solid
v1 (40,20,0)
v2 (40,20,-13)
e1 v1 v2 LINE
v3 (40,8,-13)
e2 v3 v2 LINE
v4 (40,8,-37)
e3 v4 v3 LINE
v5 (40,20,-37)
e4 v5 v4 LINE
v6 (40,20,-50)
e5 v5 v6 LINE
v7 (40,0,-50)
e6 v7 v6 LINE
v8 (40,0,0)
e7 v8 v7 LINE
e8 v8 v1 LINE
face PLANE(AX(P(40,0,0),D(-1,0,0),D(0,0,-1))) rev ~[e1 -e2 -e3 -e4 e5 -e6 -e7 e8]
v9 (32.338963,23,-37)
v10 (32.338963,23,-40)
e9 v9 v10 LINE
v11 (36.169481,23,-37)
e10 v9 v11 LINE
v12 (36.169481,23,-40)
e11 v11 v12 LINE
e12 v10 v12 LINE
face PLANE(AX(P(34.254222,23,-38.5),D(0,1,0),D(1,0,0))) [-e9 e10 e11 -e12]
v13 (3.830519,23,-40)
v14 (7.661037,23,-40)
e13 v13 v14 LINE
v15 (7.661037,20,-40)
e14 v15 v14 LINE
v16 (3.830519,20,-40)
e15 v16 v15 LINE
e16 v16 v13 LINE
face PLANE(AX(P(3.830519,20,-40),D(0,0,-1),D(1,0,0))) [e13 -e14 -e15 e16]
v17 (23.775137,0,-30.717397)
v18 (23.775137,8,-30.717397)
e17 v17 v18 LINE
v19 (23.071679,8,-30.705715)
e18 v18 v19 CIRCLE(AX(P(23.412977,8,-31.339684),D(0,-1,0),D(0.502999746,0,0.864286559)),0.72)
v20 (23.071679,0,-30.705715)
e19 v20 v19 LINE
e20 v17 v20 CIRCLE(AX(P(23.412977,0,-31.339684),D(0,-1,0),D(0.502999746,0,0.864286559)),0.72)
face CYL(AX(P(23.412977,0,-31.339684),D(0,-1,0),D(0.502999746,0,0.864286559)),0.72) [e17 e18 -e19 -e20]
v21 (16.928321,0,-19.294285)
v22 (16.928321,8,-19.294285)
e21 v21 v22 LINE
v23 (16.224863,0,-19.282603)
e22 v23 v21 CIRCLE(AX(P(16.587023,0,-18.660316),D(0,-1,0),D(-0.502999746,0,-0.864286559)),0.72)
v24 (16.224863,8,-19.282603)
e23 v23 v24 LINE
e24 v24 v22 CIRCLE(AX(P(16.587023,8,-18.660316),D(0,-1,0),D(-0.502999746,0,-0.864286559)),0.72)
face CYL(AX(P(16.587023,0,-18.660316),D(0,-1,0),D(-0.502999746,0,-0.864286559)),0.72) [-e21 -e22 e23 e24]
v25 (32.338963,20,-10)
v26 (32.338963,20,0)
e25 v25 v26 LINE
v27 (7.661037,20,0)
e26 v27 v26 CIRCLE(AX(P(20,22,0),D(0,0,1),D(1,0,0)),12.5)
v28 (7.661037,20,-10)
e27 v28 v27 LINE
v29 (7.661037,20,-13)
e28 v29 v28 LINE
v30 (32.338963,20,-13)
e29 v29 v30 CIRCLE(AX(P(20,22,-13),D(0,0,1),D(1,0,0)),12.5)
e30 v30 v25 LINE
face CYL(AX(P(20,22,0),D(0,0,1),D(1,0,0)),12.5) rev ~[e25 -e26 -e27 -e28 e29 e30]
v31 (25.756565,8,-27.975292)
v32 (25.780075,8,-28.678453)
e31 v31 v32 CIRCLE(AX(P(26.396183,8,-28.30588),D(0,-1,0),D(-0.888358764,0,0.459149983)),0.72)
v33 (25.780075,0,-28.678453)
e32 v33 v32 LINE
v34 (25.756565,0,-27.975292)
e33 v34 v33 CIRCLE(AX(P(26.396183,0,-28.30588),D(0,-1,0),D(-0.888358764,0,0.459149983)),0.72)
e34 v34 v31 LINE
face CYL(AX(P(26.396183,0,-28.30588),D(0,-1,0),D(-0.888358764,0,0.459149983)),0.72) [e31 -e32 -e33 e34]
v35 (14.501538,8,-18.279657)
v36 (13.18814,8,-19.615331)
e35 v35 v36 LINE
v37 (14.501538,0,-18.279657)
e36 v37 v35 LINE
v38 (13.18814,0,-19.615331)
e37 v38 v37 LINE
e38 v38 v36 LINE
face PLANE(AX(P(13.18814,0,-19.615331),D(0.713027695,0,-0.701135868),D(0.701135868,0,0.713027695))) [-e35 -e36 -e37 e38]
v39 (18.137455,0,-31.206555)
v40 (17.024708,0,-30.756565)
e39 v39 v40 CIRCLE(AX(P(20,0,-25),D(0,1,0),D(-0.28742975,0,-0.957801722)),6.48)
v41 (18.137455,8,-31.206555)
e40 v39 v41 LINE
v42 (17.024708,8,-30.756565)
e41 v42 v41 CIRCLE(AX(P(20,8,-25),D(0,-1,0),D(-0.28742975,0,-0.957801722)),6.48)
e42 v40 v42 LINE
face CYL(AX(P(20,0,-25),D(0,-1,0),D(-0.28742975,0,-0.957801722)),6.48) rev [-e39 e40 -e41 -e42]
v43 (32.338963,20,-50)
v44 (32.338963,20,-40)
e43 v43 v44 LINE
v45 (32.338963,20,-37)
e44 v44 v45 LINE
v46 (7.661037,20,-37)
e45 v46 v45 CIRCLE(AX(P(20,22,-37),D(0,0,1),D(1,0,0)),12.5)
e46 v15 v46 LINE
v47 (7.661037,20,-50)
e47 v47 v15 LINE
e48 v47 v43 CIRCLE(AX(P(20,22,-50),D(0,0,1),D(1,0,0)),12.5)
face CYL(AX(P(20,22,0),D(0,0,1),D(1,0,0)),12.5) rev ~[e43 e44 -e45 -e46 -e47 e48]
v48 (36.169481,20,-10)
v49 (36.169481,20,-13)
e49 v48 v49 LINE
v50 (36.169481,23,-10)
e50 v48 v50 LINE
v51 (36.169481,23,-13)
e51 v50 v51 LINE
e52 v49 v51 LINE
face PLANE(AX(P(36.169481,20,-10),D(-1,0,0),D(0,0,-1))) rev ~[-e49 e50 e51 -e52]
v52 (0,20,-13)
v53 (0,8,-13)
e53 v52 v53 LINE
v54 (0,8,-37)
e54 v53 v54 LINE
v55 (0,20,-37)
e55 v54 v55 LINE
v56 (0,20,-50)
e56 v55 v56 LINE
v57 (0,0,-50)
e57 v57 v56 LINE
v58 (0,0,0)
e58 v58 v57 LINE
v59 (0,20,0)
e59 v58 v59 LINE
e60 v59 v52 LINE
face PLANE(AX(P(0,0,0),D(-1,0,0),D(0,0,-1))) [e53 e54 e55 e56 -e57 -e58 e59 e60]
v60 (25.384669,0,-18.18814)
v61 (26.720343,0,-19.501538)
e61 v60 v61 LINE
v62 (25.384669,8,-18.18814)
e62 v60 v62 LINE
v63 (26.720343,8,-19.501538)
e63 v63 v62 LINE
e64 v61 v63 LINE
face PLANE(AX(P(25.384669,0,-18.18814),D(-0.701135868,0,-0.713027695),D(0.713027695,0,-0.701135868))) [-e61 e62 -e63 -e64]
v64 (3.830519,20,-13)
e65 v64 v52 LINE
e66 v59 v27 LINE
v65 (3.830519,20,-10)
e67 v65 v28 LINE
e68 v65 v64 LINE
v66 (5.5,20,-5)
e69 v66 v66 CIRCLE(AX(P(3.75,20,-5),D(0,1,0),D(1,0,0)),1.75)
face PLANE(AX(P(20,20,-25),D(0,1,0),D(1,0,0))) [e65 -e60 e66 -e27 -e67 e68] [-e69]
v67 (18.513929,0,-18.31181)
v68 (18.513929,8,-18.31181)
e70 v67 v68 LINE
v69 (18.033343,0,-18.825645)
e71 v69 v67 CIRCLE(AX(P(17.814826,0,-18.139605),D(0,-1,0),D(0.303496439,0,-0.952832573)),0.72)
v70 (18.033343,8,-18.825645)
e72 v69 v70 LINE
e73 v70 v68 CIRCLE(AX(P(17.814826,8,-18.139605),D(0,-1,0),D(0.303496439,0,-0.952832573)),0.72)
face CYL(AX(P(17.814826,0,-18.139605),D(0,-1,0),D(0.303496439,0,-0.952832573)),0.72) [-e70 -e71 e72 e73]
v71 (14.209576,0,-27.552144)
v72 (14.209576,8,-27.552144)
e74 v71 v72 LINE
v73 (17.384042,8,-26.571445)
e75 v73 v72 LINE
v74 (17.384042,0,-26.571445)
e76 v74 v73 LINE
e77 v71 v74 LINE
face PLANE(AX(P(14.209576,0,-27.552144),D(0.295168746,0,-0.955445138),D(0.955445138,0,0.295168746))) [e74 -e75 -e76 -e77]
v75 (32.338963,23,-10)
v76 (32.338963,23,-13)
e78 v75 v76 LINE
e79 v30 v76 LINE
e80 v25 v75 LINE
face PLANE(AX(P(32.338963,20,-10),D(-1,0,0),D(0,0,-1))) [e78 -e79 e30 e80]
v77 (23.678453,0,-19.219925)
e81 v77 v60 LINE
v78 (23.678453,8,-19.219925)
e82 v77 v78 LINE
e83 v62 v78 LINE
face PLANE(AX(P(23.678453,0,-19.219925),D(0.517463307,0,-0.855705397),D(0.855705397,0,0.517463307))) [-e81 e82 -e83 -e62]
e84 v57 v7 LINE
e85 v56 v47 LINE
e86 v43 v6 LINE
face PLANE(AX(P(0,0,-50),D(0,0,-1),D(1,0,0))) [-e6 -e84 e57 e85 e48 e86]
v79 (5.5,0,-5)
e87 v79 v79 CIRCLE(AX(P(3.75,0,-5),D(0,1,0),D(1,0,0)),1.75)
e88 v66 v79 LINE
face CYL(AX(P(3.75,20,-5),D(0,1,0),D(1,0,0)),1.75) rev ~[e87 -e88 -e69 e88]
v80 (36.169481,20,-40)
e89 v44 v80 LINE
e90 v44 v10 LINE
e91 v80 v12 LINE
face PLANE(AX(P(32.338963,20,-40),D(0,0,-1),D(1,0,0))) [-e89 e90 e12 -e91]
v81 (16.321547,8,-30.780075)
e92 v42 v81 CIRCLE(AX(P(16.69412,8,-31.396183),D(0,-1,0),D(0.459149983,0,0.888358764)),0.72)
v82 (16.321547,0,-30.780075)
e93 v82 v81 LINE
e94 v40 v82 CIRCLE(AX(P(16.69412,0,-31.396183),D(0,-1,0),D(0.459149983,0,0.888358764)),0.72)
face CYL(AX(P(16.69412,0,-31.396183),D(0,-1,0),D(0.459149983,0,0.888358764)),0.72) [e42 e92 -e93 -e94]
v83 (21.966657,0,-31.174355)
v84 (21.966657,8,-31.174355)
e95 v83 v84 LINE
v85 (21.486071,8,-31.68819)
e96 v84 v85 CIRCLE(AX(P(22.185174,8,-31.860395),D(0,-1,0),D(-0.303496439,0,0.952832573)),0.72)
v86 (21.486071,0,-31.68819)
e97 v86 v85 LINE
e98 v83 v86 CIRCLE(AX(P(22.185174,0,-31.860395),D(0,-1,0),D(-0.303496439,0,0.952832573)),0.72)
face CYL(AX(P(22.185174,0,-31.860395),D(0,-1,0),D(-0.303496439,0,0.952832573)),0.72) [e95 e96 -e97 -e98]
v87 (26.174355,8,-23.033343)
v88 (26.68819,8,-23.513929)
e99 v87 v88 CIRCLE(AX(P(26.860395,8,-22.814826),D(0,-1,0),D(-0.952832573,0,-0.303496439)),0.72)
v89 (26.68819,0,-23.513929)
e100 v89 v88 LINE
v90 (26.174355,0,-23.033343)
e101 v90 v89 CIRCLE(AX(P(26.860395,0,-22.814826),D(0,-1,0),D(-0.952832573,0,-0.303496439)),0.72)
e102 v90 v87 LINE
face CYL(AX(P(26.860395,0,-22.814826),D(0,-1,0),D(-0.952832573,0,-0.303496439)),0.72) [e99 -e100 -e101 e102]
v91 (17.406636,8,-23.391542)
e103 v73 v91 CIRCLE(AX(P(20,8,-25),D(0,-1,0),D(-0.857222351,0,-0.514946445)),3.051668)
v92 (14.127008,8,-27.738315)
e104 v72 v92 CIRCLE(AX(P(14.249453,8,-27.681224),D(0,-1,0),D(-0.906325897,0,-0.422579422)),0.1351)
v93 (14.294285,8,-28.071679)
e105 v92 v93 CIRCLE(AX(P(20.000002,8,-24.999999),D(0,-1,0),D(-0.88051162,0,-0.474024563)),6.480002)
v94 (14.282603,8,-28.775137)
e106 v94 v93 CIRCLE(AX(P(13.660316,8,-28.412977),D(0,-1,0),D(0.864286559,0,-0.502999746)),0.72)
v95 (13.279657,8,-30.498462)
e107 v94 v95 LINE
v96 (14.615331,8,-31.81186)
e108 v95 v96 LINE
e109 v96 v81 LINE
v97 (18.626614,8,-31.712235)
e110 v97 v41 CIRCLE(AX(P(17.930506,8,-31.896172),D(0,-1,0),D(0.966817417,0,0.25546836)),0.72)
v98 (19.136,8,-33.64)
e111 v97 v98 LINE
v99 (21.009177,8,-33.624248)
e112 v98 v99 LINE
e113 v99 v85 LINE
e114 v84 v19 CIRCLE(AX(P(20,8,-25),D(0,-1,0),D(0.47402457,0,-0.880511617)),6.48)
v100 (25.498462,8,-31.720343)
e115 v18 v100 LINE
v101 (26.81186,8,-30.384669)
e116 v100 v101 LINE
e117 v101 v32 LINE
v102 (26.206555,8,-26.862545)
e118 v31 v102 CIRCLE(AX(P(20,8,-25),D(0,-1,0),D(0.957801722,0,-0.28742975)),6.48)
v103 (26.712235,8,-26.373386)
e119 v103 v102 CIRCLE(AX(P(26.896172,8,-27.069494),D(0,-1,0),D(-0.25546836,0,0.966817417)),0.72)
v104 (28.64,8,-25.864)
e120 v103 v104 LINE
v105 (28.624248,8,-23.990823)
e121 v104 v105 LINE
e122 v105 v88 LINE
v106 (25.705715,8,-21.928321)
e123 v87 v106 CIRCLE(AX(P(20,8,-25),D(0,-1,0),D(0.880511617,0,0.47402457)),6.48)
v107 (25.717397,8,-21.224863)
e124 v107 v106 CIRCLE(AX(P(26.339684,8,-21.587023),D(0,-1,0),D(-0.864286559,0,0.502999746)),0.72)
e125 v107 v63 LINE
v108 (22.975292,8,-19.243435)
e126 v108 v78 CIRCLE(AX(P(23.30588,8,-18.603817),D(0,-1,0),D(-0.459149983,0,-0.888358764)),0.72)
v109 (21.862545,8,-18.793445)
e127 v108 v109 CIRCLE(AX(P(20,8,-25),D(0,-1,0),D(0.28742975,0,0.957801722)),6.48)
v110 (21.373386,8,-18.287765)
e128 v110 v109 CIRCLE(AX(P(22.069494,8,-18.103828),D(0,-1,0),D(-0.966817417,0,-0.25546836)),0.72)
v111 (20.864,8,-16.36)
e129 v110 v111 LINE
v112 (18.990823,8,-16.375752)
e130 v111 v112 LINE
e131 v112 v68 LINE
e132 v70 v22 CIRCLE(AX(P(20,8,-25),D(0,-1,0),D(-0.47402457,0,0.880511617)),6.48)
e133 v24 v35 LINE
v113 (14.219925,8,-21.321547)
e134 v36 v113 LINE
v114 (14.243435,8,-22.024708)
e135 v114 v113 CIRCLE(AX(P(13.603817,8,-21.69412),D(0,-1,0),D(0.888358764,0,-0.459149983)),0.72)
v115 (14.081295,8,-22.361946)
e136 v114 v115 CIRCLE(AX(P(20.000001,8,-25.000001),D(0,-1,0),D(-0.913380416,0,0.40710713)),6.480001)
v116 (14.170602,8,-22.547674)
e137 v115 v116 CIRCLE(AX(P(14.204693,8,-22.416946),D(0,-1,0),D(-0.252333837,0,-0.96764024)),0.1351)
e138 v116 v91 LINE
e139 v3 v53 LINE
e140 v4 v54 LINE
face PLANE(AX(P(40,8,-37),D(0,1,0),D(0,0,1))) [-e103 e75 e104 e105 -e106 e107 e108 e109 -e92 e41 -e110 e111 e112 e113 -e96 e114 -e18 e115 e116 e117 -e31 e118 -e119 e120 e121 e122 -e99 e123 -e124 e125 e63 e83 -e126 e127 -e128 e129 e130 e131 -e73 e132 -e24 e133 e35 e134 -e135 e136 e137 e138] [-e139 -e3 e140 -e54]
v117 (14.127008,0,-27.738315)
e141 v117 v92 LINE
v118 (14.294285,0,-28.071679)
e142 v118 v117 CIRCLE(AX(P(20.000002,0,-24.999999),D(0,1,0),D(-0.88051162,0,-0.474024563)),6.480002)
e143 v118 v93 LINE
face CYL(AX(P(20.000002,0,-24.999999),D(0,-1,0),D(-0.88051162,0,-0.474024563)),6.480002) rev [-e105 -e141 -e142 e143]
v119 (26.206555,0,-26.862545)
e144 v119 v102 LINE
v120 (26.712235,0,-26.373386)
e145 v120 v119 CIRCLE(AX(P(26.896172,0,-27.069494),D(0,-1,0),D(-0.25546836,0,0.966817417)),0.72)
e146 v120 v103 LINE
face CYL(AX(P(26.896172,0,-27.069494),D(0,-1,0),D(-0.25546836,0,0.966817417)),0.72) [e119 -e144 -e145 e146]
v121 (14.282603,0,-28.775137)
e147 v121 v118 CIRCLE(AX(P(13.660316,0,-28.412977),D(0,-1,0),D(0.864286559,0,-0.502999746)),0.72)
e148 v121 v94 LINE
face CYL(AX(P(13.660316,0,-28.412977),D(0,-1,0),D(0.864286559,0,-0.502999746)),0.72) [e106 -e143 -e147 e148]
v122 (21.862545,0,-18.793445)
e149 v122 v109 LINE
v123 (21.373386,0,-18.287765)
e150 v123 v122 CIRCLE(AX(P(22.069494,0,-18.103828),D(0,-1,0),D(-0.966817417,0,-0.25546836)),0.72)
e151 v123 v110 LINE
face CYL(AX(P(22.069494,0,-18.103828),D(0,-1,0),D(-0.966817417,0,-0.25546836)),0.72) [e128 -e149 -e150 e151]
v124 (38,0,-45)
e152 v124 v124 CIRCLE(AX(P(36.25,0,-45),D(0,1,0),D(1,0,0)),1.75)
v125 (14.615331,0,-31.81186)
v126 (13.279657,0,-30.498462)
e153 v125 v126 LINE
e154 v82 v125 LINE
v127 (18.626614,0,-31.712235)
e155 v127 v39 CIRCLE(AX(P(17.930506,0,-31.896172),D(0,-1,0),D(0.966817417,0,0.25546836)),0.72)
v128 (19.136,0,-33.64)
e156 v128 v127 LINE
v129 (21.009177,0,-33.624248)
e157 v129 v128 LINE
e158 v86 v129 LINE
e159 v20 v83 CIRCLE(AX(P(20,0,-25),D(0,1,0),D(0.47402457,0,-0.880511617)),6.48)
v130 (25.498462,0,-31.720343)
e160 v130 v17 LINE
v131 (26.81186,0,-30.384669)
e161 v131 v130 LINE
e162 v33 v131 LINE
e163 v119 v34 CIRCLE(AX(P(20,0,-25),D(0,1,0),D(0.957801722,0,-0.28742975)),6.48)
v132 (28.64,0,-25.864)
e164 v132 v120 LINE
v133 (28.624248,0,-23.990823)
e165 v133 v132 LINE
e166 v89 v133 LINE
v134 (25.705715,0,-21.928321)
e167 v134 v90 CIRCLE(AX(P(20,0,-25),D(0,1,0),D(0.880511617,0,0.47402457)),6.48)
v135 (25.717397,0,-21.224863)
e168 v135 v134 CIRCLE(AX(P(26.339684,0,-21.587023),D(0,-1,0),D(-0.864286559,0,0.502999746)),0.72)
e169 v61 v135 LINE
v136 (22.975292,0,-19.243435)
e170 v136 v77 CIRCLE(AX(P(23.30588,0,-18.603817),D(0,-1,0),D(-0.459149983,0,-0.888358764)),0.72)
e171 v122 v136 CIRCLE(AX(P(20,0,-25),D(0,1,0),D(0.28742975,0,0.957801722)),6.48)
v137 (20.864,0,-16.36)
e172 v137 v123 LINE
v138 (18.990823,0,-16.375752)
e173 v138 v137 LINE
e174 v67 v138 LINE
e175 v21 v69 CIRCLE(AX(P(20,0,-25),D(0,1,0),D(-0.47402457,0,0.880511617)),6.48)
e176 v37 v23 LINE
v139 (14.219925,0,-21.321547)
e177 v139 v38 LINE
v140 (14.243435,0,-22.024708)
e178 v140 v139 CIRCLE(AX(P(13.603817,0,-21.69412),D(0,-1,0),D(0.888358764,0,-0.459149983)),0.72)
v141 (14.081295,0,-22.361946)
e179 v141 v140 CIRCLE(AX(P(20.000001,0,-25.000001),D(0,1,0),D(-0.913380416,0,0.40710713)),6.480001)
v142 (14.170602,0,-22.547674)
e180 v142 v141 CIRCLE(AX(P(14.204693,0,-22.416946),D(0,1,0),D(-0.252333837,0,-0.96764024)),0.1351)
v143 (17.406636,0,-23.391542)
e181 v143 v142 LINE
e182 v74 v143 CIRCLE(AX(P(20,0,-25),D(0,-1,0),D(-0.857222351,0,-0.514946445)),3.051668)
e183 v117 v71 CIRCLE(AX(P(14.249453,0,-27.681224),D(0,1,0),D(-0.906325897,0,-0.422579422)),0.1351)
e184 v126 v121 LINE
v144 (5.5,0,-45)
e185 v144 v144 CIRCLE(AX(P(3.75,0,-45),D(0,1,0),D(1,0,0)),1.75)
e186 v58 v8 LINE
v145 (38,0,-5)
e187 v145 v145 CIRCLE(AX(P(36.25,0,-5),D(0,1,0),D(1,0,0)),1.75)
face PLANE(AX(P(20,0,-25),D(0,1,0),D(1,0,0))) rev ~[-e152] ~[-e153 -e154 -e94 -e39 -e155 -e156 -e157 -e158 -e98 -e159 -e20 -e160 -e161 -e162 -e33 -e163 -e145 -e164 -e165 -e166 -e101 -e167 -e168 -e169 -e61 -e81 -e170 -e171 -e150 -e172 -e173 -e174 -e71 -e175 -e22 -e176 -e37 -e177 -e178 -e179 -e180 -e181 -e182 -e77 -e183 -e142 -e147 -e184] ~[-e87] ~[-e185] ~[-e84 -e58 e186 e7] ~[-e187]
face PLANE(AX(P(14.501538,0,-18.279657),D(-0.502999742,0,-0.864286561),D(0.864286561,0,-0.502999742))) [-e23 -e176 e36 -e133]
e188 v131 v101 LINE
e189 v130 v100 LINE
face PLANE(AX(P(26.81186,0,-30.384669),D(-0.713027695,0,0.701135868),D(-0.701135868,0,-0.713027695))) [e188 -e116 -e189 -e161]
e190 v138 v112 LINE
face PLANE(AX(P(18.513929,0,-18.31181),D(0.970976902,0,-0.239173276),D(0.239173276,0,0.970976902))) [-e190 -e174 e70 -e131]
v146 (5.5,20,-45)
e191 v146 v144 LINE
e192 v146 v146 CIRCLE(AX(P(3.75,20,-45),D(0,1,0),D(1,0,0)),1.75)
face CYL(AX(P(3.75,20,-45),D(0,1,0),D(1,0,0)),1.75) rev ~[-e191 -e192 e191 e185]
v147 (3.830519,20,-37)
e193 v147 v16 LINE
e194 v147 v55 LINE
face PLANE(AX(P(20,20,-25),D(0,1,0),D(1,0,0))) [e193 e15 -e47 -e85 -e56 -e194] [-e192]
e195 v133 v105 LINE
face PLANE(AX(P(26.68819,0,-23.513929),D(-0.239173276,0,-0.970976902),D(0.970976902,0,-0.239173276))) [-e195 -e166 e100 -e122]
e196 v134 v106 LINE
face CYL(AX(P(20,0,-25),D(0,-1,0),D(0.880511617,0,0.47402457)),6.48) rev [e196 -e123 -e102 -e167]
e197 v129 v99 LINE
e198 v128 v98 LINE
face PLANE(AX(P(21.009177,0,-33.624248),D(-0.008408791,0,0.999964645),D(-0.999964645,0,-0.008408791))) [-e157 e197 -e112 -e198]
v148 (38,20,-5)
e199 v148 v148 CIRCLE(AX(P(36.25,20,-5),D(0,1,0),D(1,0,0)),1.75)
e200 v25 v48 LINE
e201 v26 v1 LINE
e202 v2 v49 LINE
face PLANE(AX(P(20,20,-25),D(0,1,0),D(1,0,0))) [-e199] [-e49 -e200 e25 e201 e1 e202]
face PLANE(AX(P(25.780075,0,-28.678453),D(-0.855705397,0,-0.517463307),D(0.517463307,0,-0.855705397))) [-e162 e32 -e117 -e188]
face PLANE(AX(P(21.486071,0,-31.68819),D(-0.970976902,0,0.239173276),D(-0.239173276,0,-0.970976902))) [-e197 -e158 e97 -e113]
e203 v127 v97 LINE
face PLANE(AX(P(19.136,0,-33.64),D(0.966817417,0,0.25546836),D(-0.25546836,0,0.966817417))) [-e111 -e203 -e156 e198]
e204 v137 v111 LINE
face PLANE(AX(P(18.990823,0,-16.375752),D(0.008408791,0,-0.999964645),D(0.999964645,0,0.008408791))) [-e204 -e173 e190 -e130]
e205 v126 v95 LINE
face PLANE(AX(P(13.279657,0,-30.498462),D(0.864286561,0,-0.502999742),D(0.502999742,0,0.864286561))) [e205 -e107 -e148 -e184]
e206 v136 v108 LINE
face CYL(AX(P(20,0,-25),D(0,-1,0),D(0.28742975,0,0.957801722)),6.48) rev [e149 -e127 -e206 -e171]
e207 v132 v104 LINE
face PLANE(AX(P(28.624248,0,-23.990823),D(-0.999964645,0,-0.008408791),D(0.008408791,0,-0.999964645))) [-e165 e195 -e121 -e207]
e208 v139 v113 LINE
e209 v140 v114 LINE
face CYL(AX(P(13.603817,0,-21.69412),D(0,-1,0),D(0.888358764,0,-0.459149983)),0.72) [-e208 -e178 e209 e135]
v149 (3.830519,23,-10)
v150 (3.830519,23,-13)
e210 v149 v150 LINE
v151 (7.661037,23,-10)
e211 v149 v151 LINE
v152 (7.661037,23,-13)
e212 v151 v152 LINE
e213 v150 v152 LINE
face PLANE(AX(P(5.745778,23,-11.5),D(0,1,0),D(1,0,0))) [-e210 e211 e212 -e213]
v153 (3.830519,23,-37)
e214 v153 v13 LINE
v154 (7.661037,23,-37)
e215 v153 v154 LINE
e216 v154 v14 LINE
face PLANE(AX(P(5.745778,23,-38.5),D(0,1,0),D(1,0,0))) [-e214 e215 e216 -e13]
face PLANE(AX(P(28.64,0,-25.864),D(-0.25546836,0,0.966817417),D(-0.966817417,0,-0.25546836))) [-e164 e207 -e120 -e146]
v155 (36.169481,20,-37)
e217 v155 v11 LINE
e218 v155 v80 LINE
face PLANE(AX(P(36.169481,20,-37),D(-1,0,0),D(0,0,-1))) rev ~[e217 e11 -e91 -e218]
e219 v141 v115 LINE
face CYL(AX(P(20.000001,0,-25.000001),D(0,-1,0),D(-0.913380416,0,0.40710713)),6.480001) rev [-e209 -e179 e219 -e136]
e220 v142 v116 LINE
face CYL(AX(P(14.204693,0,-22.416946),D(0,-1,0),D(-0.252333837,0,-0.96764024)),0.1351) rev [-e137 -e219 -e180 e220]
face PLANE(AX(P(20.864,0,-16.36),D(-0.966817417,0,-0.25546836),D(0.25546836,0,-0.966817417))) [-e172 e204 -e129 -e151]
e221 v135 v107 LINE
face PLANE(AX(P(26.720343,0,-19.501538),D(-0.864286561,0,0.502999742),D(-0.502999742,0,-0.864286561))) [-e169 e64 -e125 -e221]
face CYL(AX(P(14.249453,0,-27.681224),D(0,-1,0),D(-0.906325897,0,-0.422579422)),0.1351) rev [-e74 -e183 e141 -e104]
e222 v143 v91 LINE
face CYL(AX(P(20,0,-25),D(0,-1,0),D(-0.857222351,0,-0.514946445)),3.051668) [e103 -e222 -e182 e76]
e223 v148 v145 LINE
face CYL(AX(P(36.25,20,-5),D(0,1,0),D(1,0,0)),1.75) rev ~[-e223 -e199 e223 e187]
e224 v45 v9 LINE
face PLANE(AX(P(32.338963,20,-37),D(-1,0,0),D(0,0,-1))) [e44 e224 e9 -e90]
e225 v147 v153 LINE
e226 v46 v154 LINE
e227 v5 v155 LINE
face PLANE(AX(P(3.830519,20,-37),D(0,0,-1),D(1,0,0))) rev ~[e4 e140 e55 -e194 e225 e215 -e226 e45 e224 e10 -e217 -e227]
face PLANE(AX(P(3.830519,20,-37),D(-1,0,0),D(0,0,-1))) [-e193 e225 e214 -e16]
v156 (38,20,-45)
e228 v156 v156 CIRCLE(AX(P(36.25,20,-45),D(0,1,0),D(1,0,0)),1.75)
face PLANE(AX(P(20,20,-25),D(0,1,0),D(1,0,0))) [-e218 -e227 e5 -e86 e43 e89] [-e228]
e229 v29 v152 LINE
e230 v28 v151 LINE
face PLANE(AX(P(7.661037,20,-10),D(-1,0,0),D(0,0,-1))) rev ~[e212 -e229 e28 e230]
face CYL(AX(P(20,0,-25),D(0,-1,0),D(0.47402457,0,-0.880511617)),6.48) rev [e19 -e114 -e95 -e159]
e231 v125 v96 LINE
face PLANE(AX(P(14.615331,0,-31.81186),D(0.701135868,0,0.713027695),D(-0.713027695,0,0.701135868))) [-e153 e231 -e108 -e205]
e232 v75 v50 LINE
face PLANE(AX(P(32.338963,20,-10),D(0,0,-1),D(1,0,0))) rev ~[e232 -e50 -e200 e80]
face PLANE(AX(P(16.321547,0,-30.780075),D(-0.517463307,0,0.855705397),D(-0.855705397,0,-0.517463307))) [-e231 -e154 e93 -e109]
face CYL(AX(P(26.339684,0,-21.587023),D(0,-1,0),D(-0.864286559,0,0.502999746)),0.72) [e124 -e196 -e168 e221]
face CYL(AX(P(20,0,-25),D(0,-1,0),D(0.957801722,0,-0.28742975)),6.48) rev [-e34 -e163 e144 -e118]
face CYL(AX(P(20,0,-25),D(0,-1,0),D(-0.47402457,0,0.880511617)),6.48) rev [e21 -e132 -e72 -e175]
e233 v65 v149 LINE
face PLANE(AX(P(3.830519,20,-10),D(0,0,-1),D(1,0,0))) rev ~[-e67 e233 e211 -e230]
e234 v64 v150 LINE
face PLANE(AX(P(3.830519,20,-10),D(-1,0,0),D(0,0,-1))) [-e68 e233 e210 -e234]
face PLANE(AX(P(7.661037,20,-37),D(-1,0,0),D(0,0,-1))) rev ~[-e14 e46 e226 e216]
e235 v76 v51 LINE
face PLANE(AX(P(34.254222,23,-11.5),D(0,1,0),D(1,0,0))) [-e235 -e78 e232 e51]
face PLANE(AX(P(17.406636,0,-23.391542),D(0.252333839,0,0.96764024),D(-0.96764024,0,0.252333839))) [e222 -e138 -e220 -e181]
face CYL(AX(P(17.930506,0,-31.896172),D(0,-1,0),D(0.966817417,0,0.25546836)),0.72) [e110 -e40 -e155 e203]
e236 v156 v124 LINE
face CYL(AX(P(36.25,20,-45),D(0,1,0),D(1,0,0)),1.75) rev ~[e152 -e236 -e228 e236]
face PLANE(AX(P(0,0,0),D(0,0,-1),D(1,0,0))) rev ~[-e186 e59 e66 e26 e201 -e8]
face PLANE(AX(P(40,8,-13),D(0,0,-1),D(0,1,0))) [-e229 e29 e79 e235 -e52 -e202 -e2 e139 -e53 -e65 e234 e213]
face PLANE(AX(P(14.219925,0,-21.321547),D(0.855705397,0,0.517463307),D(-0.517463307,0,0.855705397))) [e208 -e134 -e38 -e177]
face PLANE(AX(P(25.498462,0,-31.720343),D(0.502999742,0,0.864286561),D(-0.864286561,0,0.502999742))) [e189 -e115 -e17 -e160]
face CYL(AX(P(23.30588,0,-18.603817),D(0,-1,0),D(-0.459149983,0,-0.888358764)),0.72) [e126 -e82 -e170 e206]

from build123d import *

# Parameters (mm, degrees)
CROQUIS1_W              = 40
CROQUIS1_H              = 50
SALIENTE_EXTRUIR1_DEPTH = 20
CROQUIS2_R              = 12.5
CORTAR_EXTRUIR1_DEPTH   = 51
CROQUIS3_R              = 1.75
CORTAR_EXTRUIR2_DEPTH   = 21
CORTAR_EXTRUIR3_DEPTH   = 41
CROQUIS5_W              = 3.830518661
CROQUIS5_H              = 3
SALIENTE_EXTRUIR3_DEPTH = 3
CORTAR_EXTRUIR5_DEPTH   = 24


with BuildPart() as part:
    # Croquis1 → Saliente-Extruir1 (new body)
    with BuildSketch(Plane(origin=(0, 0, 0), x_dir=(1, 0, 0), z_dir=(0, 1, 0))):
        with Locations((20, 25)):
            Rectangle(CROQUIS1_W, CROQUIS1_H)
    extrude(amount=SALIENTE_EXTRUIR1_DEPTH)

    # Croquis2 → Cortar-Extruir1 (cut, through all)
    with BuildSketch(Plane.XY):
        with Locations((20, 22)):
            Circle(CROQUIS2_R)
    extrude(amount=-CORTAR_EXTRUIR1_DEPTH, mode=Mode.SUBTRACT)

    # Croquis3 → Cortar-Extruir2 (cut, through all)
    with BuildSketch(Plane(origin=(0, 20, 0), x_dir=(1, 0, 0), z_dir=(0, 1, 0))):
        with Locations((3.75, 45)):
            Circle(CROQUIS3_R)
        with Locations((36.25, 45)):
            Circle(CROQUIS3_R)
        with Locations((36.25, 5)):
            Circle(CROQUIS3_R)
        with Locations((3.75, 5)):
            Circle(CROQUIS3_R)
    extrude(amount=-CORTAR_EXTRUIR2_DEPTH, mode=Mode.SUBTRACT)

    # Croquis4 → Cortar-Extruir3 (cut, through all)
    with BuildSketch(Plane(origin=(40, 0, 0), x_dir=(0, 0, -1), z_dir=(1, 0, 0))):
        Polygon((25, 20), (37, 20), (37, 8), (13, 8), (13, 20), align=None)
    extrude(amount=-CORTAR_EXTRUIR3_DEPTH, mode=Mode.SUBTRACT)

    # Croquis5 → Saliente-Extruir3 (add)
    with BuildSketch(Plane(origin=(0, 20, 0), x_dir=(1, 0, 0), z_dir=(0, 1, 0))):
        with Locations((5.745777991, 38.5)):
            Rectangle(CROQUIS5_W, CROQUIS5_H)
        with Locations((34.25422201, 38.5)):
            Rectangle(CROQUIS5_W, CROQUIS5_H)
        with Locations((34.25422201, 11.5)):
            Rectangle(CROQUIS5_W, CROQUIS5_H)
        with Locations((5.745777991, 11.5)):
            Rectangle(CROQUIS5_W, CROQUIS5_H)
    extrude(amount=SALIENTE_EXTRUIR3_DEPTH)

    # Croquis6 → Cortar-Extruir5 (cut, through all)
    with BuildSketch(Plane.XZ):
        with BuildLine():
            Line((13.188139939, -19.615331161), (14.501537669, -18.279657152))
            Line((14.501537669, -18.279657152), (16.224863288, -19.28260268))
            ThreePointArc((16.224863288, -19.28260268), (16.575067996, -19.380217097), (16.928320792, -19.294284721))
            ThreePointArc((16.928320792, -19.294284721), (17.469957789, -19.034324312), (18.033343063, -18.825644933))
            ThreePointArc((18.033343063, -18.825644933), (18.340671144, -18.631425053), (18.513928995, -18.31181024))
            Line((18.513928995, -18.31181024), (18.990823409, -16.375751708))
            Line((18.990823409, -16.375751708), (20.864, -16.36))
            Line((20.864, -16.36), (21.373385647, -18.287764816))
            ThreePointArc((21.373385647, -18.287764816), (21.551993955, -18.604420755), (21.862544768, -18.793444837))
            ThreePointArc((21.862544768, -18.793444837), (22.429359729, -18.992620263), (22.975291881, -19.243435206))
            ThreePointArc((22.975291881, -19.243435206), (23.329939845, -19.323414782), (23.678453448, -19.219924782))
            Line((23.678453448, -19.219924782), (25.384668839, -18.188139939))
            Line((25.384668839, -18.188139939), (26.720342848, -19.501537669))
            Line((26.720342848, -19.501537669), (25.71739732, -21.224863288))
            ThreePointArc((25.71739732, -21.224863288), (25.619782903, -21.575067996), (25.705715279, -21.928320792))
            ThreePointArc((25.705715279, -21.928320792), (25.965675688, -22.469957789), (26.174355067, -23.033343063))
            ThreePointArc((26.174355067, -23.033343063), (26.368574947, -23.340671144), (26.68818976, -23.513928995))
            Line((26.68818976, -23.513928995), (28.624248292, -23.990823409))
            Line((28.624248292, -23.990823409), (28.64, -25.864))
            Line((28.64, -25.864), (26.712235184, -26.373385647))
            ThreePointArc((26.712235184, -26.373385647), (26.395579245, -26.551993955), (26.206555163, -26.862544768))
            ThreePointArc((26.206555163, -26.862544768), (26.007379737, -27.429359729), (25.756564794, -27.975291881))
            ThreePointArc((25.756564794, -27.975291881), (25.676585218, -28.329939845), (25.780075218, -28.678453448))
            Line((25.780075218, -28.678453448), (26.811860061, -30.384668839))
            Line((26.811860061, -30.384668839), (25.498462331, -31.720342848))
            Line((25.498462331, -31.720342848), (23.775136712, -30.71739732))
            ThreePointArc((23.775136712, -30.71739732), (23.424932004, -30.619782903), (23.071679208, -30.705715279))
            ThreePointArc((23.071679208, -30.705715279), (22.530042211, -30.965675688), (21.966656937, -31.174355067))
            ThreePointArc((21.966656937, -31.174355067), (21.659328856, -31.368574947), (21.486071005, -31.68818976))
            Line((21.486071005, -31.68818976), (21.009176591, -33.624248292))
            Line((21.009176591, -33.624248292), (19.136, -33.64))
            Line((19.136, -33.64), (18.626614353, -31.712235184))
            ThreePointArc((18.626614353, -31.712235184), (18.448006045, -31.395579245), (18.137455232, -31.206555163))
            ThreePointArc((18.137455232, -31.206555163), (17.570640271, -31.007379737), (17.024708119, -30.756564794))
            ThreePointArc((17.024708119, -30.756564794), (16.670060155, -30.676585218), (16.321546552, -30.780075218))
            Line((16.321546552, -30.780075218), (14.615331161, -31.811860061))
            Line((14.615331161, -31.811860061), (13.279657152, -30.498462331))
            Line((13.279657152, -30.498462331), (14.28260268, -28.775136712))
            ThreePointArc((14.28260268, -28.775136712), (14.380217097, -28.424932004), (14.294284721, -28.071679208))
            ThreePointArc((14.294284721, -28.071679208), (14.208247472, -27.906200724), (14.127008205, -27.738314697))
            ThreePointArc((14.127008205, -27.738314697), (14.125953752, -27.626452127), (14.209575503, -27.552143653))
            Line((14.209575503, -27.552143653), (17.384042323, -26.571445385))
            ThreePointArc((17.384042323, -26.571445385), (23.05159058, -25.021681648), (17.406635637, -23.391542216))
            Line((17.406635637, -23.391542216), (14.170602247, -22.54767412))
            ThreePointArc((14.170602247, -22.54767412), (14.082937198, -22.475491969), (14.08129489, -22.361945826))
            ThreePointArc((14.08129489, -22.361945826), (14.159930296, -22.19215637), (14.243435206, -22.024708119))
            ThreePointArc((14.243435206, -22.024708119), (14.323414782, -21.670060155), (14.219924782, -21.321546552))
            Line((14.219924782, -21.321546552), (13.188139939, -19.615331161))
        make_face()
    extrude(amount=-CORTAR_EXTRUIR5_DEPTH, mode=Mode.SUBTRACT)


solid = part.part
